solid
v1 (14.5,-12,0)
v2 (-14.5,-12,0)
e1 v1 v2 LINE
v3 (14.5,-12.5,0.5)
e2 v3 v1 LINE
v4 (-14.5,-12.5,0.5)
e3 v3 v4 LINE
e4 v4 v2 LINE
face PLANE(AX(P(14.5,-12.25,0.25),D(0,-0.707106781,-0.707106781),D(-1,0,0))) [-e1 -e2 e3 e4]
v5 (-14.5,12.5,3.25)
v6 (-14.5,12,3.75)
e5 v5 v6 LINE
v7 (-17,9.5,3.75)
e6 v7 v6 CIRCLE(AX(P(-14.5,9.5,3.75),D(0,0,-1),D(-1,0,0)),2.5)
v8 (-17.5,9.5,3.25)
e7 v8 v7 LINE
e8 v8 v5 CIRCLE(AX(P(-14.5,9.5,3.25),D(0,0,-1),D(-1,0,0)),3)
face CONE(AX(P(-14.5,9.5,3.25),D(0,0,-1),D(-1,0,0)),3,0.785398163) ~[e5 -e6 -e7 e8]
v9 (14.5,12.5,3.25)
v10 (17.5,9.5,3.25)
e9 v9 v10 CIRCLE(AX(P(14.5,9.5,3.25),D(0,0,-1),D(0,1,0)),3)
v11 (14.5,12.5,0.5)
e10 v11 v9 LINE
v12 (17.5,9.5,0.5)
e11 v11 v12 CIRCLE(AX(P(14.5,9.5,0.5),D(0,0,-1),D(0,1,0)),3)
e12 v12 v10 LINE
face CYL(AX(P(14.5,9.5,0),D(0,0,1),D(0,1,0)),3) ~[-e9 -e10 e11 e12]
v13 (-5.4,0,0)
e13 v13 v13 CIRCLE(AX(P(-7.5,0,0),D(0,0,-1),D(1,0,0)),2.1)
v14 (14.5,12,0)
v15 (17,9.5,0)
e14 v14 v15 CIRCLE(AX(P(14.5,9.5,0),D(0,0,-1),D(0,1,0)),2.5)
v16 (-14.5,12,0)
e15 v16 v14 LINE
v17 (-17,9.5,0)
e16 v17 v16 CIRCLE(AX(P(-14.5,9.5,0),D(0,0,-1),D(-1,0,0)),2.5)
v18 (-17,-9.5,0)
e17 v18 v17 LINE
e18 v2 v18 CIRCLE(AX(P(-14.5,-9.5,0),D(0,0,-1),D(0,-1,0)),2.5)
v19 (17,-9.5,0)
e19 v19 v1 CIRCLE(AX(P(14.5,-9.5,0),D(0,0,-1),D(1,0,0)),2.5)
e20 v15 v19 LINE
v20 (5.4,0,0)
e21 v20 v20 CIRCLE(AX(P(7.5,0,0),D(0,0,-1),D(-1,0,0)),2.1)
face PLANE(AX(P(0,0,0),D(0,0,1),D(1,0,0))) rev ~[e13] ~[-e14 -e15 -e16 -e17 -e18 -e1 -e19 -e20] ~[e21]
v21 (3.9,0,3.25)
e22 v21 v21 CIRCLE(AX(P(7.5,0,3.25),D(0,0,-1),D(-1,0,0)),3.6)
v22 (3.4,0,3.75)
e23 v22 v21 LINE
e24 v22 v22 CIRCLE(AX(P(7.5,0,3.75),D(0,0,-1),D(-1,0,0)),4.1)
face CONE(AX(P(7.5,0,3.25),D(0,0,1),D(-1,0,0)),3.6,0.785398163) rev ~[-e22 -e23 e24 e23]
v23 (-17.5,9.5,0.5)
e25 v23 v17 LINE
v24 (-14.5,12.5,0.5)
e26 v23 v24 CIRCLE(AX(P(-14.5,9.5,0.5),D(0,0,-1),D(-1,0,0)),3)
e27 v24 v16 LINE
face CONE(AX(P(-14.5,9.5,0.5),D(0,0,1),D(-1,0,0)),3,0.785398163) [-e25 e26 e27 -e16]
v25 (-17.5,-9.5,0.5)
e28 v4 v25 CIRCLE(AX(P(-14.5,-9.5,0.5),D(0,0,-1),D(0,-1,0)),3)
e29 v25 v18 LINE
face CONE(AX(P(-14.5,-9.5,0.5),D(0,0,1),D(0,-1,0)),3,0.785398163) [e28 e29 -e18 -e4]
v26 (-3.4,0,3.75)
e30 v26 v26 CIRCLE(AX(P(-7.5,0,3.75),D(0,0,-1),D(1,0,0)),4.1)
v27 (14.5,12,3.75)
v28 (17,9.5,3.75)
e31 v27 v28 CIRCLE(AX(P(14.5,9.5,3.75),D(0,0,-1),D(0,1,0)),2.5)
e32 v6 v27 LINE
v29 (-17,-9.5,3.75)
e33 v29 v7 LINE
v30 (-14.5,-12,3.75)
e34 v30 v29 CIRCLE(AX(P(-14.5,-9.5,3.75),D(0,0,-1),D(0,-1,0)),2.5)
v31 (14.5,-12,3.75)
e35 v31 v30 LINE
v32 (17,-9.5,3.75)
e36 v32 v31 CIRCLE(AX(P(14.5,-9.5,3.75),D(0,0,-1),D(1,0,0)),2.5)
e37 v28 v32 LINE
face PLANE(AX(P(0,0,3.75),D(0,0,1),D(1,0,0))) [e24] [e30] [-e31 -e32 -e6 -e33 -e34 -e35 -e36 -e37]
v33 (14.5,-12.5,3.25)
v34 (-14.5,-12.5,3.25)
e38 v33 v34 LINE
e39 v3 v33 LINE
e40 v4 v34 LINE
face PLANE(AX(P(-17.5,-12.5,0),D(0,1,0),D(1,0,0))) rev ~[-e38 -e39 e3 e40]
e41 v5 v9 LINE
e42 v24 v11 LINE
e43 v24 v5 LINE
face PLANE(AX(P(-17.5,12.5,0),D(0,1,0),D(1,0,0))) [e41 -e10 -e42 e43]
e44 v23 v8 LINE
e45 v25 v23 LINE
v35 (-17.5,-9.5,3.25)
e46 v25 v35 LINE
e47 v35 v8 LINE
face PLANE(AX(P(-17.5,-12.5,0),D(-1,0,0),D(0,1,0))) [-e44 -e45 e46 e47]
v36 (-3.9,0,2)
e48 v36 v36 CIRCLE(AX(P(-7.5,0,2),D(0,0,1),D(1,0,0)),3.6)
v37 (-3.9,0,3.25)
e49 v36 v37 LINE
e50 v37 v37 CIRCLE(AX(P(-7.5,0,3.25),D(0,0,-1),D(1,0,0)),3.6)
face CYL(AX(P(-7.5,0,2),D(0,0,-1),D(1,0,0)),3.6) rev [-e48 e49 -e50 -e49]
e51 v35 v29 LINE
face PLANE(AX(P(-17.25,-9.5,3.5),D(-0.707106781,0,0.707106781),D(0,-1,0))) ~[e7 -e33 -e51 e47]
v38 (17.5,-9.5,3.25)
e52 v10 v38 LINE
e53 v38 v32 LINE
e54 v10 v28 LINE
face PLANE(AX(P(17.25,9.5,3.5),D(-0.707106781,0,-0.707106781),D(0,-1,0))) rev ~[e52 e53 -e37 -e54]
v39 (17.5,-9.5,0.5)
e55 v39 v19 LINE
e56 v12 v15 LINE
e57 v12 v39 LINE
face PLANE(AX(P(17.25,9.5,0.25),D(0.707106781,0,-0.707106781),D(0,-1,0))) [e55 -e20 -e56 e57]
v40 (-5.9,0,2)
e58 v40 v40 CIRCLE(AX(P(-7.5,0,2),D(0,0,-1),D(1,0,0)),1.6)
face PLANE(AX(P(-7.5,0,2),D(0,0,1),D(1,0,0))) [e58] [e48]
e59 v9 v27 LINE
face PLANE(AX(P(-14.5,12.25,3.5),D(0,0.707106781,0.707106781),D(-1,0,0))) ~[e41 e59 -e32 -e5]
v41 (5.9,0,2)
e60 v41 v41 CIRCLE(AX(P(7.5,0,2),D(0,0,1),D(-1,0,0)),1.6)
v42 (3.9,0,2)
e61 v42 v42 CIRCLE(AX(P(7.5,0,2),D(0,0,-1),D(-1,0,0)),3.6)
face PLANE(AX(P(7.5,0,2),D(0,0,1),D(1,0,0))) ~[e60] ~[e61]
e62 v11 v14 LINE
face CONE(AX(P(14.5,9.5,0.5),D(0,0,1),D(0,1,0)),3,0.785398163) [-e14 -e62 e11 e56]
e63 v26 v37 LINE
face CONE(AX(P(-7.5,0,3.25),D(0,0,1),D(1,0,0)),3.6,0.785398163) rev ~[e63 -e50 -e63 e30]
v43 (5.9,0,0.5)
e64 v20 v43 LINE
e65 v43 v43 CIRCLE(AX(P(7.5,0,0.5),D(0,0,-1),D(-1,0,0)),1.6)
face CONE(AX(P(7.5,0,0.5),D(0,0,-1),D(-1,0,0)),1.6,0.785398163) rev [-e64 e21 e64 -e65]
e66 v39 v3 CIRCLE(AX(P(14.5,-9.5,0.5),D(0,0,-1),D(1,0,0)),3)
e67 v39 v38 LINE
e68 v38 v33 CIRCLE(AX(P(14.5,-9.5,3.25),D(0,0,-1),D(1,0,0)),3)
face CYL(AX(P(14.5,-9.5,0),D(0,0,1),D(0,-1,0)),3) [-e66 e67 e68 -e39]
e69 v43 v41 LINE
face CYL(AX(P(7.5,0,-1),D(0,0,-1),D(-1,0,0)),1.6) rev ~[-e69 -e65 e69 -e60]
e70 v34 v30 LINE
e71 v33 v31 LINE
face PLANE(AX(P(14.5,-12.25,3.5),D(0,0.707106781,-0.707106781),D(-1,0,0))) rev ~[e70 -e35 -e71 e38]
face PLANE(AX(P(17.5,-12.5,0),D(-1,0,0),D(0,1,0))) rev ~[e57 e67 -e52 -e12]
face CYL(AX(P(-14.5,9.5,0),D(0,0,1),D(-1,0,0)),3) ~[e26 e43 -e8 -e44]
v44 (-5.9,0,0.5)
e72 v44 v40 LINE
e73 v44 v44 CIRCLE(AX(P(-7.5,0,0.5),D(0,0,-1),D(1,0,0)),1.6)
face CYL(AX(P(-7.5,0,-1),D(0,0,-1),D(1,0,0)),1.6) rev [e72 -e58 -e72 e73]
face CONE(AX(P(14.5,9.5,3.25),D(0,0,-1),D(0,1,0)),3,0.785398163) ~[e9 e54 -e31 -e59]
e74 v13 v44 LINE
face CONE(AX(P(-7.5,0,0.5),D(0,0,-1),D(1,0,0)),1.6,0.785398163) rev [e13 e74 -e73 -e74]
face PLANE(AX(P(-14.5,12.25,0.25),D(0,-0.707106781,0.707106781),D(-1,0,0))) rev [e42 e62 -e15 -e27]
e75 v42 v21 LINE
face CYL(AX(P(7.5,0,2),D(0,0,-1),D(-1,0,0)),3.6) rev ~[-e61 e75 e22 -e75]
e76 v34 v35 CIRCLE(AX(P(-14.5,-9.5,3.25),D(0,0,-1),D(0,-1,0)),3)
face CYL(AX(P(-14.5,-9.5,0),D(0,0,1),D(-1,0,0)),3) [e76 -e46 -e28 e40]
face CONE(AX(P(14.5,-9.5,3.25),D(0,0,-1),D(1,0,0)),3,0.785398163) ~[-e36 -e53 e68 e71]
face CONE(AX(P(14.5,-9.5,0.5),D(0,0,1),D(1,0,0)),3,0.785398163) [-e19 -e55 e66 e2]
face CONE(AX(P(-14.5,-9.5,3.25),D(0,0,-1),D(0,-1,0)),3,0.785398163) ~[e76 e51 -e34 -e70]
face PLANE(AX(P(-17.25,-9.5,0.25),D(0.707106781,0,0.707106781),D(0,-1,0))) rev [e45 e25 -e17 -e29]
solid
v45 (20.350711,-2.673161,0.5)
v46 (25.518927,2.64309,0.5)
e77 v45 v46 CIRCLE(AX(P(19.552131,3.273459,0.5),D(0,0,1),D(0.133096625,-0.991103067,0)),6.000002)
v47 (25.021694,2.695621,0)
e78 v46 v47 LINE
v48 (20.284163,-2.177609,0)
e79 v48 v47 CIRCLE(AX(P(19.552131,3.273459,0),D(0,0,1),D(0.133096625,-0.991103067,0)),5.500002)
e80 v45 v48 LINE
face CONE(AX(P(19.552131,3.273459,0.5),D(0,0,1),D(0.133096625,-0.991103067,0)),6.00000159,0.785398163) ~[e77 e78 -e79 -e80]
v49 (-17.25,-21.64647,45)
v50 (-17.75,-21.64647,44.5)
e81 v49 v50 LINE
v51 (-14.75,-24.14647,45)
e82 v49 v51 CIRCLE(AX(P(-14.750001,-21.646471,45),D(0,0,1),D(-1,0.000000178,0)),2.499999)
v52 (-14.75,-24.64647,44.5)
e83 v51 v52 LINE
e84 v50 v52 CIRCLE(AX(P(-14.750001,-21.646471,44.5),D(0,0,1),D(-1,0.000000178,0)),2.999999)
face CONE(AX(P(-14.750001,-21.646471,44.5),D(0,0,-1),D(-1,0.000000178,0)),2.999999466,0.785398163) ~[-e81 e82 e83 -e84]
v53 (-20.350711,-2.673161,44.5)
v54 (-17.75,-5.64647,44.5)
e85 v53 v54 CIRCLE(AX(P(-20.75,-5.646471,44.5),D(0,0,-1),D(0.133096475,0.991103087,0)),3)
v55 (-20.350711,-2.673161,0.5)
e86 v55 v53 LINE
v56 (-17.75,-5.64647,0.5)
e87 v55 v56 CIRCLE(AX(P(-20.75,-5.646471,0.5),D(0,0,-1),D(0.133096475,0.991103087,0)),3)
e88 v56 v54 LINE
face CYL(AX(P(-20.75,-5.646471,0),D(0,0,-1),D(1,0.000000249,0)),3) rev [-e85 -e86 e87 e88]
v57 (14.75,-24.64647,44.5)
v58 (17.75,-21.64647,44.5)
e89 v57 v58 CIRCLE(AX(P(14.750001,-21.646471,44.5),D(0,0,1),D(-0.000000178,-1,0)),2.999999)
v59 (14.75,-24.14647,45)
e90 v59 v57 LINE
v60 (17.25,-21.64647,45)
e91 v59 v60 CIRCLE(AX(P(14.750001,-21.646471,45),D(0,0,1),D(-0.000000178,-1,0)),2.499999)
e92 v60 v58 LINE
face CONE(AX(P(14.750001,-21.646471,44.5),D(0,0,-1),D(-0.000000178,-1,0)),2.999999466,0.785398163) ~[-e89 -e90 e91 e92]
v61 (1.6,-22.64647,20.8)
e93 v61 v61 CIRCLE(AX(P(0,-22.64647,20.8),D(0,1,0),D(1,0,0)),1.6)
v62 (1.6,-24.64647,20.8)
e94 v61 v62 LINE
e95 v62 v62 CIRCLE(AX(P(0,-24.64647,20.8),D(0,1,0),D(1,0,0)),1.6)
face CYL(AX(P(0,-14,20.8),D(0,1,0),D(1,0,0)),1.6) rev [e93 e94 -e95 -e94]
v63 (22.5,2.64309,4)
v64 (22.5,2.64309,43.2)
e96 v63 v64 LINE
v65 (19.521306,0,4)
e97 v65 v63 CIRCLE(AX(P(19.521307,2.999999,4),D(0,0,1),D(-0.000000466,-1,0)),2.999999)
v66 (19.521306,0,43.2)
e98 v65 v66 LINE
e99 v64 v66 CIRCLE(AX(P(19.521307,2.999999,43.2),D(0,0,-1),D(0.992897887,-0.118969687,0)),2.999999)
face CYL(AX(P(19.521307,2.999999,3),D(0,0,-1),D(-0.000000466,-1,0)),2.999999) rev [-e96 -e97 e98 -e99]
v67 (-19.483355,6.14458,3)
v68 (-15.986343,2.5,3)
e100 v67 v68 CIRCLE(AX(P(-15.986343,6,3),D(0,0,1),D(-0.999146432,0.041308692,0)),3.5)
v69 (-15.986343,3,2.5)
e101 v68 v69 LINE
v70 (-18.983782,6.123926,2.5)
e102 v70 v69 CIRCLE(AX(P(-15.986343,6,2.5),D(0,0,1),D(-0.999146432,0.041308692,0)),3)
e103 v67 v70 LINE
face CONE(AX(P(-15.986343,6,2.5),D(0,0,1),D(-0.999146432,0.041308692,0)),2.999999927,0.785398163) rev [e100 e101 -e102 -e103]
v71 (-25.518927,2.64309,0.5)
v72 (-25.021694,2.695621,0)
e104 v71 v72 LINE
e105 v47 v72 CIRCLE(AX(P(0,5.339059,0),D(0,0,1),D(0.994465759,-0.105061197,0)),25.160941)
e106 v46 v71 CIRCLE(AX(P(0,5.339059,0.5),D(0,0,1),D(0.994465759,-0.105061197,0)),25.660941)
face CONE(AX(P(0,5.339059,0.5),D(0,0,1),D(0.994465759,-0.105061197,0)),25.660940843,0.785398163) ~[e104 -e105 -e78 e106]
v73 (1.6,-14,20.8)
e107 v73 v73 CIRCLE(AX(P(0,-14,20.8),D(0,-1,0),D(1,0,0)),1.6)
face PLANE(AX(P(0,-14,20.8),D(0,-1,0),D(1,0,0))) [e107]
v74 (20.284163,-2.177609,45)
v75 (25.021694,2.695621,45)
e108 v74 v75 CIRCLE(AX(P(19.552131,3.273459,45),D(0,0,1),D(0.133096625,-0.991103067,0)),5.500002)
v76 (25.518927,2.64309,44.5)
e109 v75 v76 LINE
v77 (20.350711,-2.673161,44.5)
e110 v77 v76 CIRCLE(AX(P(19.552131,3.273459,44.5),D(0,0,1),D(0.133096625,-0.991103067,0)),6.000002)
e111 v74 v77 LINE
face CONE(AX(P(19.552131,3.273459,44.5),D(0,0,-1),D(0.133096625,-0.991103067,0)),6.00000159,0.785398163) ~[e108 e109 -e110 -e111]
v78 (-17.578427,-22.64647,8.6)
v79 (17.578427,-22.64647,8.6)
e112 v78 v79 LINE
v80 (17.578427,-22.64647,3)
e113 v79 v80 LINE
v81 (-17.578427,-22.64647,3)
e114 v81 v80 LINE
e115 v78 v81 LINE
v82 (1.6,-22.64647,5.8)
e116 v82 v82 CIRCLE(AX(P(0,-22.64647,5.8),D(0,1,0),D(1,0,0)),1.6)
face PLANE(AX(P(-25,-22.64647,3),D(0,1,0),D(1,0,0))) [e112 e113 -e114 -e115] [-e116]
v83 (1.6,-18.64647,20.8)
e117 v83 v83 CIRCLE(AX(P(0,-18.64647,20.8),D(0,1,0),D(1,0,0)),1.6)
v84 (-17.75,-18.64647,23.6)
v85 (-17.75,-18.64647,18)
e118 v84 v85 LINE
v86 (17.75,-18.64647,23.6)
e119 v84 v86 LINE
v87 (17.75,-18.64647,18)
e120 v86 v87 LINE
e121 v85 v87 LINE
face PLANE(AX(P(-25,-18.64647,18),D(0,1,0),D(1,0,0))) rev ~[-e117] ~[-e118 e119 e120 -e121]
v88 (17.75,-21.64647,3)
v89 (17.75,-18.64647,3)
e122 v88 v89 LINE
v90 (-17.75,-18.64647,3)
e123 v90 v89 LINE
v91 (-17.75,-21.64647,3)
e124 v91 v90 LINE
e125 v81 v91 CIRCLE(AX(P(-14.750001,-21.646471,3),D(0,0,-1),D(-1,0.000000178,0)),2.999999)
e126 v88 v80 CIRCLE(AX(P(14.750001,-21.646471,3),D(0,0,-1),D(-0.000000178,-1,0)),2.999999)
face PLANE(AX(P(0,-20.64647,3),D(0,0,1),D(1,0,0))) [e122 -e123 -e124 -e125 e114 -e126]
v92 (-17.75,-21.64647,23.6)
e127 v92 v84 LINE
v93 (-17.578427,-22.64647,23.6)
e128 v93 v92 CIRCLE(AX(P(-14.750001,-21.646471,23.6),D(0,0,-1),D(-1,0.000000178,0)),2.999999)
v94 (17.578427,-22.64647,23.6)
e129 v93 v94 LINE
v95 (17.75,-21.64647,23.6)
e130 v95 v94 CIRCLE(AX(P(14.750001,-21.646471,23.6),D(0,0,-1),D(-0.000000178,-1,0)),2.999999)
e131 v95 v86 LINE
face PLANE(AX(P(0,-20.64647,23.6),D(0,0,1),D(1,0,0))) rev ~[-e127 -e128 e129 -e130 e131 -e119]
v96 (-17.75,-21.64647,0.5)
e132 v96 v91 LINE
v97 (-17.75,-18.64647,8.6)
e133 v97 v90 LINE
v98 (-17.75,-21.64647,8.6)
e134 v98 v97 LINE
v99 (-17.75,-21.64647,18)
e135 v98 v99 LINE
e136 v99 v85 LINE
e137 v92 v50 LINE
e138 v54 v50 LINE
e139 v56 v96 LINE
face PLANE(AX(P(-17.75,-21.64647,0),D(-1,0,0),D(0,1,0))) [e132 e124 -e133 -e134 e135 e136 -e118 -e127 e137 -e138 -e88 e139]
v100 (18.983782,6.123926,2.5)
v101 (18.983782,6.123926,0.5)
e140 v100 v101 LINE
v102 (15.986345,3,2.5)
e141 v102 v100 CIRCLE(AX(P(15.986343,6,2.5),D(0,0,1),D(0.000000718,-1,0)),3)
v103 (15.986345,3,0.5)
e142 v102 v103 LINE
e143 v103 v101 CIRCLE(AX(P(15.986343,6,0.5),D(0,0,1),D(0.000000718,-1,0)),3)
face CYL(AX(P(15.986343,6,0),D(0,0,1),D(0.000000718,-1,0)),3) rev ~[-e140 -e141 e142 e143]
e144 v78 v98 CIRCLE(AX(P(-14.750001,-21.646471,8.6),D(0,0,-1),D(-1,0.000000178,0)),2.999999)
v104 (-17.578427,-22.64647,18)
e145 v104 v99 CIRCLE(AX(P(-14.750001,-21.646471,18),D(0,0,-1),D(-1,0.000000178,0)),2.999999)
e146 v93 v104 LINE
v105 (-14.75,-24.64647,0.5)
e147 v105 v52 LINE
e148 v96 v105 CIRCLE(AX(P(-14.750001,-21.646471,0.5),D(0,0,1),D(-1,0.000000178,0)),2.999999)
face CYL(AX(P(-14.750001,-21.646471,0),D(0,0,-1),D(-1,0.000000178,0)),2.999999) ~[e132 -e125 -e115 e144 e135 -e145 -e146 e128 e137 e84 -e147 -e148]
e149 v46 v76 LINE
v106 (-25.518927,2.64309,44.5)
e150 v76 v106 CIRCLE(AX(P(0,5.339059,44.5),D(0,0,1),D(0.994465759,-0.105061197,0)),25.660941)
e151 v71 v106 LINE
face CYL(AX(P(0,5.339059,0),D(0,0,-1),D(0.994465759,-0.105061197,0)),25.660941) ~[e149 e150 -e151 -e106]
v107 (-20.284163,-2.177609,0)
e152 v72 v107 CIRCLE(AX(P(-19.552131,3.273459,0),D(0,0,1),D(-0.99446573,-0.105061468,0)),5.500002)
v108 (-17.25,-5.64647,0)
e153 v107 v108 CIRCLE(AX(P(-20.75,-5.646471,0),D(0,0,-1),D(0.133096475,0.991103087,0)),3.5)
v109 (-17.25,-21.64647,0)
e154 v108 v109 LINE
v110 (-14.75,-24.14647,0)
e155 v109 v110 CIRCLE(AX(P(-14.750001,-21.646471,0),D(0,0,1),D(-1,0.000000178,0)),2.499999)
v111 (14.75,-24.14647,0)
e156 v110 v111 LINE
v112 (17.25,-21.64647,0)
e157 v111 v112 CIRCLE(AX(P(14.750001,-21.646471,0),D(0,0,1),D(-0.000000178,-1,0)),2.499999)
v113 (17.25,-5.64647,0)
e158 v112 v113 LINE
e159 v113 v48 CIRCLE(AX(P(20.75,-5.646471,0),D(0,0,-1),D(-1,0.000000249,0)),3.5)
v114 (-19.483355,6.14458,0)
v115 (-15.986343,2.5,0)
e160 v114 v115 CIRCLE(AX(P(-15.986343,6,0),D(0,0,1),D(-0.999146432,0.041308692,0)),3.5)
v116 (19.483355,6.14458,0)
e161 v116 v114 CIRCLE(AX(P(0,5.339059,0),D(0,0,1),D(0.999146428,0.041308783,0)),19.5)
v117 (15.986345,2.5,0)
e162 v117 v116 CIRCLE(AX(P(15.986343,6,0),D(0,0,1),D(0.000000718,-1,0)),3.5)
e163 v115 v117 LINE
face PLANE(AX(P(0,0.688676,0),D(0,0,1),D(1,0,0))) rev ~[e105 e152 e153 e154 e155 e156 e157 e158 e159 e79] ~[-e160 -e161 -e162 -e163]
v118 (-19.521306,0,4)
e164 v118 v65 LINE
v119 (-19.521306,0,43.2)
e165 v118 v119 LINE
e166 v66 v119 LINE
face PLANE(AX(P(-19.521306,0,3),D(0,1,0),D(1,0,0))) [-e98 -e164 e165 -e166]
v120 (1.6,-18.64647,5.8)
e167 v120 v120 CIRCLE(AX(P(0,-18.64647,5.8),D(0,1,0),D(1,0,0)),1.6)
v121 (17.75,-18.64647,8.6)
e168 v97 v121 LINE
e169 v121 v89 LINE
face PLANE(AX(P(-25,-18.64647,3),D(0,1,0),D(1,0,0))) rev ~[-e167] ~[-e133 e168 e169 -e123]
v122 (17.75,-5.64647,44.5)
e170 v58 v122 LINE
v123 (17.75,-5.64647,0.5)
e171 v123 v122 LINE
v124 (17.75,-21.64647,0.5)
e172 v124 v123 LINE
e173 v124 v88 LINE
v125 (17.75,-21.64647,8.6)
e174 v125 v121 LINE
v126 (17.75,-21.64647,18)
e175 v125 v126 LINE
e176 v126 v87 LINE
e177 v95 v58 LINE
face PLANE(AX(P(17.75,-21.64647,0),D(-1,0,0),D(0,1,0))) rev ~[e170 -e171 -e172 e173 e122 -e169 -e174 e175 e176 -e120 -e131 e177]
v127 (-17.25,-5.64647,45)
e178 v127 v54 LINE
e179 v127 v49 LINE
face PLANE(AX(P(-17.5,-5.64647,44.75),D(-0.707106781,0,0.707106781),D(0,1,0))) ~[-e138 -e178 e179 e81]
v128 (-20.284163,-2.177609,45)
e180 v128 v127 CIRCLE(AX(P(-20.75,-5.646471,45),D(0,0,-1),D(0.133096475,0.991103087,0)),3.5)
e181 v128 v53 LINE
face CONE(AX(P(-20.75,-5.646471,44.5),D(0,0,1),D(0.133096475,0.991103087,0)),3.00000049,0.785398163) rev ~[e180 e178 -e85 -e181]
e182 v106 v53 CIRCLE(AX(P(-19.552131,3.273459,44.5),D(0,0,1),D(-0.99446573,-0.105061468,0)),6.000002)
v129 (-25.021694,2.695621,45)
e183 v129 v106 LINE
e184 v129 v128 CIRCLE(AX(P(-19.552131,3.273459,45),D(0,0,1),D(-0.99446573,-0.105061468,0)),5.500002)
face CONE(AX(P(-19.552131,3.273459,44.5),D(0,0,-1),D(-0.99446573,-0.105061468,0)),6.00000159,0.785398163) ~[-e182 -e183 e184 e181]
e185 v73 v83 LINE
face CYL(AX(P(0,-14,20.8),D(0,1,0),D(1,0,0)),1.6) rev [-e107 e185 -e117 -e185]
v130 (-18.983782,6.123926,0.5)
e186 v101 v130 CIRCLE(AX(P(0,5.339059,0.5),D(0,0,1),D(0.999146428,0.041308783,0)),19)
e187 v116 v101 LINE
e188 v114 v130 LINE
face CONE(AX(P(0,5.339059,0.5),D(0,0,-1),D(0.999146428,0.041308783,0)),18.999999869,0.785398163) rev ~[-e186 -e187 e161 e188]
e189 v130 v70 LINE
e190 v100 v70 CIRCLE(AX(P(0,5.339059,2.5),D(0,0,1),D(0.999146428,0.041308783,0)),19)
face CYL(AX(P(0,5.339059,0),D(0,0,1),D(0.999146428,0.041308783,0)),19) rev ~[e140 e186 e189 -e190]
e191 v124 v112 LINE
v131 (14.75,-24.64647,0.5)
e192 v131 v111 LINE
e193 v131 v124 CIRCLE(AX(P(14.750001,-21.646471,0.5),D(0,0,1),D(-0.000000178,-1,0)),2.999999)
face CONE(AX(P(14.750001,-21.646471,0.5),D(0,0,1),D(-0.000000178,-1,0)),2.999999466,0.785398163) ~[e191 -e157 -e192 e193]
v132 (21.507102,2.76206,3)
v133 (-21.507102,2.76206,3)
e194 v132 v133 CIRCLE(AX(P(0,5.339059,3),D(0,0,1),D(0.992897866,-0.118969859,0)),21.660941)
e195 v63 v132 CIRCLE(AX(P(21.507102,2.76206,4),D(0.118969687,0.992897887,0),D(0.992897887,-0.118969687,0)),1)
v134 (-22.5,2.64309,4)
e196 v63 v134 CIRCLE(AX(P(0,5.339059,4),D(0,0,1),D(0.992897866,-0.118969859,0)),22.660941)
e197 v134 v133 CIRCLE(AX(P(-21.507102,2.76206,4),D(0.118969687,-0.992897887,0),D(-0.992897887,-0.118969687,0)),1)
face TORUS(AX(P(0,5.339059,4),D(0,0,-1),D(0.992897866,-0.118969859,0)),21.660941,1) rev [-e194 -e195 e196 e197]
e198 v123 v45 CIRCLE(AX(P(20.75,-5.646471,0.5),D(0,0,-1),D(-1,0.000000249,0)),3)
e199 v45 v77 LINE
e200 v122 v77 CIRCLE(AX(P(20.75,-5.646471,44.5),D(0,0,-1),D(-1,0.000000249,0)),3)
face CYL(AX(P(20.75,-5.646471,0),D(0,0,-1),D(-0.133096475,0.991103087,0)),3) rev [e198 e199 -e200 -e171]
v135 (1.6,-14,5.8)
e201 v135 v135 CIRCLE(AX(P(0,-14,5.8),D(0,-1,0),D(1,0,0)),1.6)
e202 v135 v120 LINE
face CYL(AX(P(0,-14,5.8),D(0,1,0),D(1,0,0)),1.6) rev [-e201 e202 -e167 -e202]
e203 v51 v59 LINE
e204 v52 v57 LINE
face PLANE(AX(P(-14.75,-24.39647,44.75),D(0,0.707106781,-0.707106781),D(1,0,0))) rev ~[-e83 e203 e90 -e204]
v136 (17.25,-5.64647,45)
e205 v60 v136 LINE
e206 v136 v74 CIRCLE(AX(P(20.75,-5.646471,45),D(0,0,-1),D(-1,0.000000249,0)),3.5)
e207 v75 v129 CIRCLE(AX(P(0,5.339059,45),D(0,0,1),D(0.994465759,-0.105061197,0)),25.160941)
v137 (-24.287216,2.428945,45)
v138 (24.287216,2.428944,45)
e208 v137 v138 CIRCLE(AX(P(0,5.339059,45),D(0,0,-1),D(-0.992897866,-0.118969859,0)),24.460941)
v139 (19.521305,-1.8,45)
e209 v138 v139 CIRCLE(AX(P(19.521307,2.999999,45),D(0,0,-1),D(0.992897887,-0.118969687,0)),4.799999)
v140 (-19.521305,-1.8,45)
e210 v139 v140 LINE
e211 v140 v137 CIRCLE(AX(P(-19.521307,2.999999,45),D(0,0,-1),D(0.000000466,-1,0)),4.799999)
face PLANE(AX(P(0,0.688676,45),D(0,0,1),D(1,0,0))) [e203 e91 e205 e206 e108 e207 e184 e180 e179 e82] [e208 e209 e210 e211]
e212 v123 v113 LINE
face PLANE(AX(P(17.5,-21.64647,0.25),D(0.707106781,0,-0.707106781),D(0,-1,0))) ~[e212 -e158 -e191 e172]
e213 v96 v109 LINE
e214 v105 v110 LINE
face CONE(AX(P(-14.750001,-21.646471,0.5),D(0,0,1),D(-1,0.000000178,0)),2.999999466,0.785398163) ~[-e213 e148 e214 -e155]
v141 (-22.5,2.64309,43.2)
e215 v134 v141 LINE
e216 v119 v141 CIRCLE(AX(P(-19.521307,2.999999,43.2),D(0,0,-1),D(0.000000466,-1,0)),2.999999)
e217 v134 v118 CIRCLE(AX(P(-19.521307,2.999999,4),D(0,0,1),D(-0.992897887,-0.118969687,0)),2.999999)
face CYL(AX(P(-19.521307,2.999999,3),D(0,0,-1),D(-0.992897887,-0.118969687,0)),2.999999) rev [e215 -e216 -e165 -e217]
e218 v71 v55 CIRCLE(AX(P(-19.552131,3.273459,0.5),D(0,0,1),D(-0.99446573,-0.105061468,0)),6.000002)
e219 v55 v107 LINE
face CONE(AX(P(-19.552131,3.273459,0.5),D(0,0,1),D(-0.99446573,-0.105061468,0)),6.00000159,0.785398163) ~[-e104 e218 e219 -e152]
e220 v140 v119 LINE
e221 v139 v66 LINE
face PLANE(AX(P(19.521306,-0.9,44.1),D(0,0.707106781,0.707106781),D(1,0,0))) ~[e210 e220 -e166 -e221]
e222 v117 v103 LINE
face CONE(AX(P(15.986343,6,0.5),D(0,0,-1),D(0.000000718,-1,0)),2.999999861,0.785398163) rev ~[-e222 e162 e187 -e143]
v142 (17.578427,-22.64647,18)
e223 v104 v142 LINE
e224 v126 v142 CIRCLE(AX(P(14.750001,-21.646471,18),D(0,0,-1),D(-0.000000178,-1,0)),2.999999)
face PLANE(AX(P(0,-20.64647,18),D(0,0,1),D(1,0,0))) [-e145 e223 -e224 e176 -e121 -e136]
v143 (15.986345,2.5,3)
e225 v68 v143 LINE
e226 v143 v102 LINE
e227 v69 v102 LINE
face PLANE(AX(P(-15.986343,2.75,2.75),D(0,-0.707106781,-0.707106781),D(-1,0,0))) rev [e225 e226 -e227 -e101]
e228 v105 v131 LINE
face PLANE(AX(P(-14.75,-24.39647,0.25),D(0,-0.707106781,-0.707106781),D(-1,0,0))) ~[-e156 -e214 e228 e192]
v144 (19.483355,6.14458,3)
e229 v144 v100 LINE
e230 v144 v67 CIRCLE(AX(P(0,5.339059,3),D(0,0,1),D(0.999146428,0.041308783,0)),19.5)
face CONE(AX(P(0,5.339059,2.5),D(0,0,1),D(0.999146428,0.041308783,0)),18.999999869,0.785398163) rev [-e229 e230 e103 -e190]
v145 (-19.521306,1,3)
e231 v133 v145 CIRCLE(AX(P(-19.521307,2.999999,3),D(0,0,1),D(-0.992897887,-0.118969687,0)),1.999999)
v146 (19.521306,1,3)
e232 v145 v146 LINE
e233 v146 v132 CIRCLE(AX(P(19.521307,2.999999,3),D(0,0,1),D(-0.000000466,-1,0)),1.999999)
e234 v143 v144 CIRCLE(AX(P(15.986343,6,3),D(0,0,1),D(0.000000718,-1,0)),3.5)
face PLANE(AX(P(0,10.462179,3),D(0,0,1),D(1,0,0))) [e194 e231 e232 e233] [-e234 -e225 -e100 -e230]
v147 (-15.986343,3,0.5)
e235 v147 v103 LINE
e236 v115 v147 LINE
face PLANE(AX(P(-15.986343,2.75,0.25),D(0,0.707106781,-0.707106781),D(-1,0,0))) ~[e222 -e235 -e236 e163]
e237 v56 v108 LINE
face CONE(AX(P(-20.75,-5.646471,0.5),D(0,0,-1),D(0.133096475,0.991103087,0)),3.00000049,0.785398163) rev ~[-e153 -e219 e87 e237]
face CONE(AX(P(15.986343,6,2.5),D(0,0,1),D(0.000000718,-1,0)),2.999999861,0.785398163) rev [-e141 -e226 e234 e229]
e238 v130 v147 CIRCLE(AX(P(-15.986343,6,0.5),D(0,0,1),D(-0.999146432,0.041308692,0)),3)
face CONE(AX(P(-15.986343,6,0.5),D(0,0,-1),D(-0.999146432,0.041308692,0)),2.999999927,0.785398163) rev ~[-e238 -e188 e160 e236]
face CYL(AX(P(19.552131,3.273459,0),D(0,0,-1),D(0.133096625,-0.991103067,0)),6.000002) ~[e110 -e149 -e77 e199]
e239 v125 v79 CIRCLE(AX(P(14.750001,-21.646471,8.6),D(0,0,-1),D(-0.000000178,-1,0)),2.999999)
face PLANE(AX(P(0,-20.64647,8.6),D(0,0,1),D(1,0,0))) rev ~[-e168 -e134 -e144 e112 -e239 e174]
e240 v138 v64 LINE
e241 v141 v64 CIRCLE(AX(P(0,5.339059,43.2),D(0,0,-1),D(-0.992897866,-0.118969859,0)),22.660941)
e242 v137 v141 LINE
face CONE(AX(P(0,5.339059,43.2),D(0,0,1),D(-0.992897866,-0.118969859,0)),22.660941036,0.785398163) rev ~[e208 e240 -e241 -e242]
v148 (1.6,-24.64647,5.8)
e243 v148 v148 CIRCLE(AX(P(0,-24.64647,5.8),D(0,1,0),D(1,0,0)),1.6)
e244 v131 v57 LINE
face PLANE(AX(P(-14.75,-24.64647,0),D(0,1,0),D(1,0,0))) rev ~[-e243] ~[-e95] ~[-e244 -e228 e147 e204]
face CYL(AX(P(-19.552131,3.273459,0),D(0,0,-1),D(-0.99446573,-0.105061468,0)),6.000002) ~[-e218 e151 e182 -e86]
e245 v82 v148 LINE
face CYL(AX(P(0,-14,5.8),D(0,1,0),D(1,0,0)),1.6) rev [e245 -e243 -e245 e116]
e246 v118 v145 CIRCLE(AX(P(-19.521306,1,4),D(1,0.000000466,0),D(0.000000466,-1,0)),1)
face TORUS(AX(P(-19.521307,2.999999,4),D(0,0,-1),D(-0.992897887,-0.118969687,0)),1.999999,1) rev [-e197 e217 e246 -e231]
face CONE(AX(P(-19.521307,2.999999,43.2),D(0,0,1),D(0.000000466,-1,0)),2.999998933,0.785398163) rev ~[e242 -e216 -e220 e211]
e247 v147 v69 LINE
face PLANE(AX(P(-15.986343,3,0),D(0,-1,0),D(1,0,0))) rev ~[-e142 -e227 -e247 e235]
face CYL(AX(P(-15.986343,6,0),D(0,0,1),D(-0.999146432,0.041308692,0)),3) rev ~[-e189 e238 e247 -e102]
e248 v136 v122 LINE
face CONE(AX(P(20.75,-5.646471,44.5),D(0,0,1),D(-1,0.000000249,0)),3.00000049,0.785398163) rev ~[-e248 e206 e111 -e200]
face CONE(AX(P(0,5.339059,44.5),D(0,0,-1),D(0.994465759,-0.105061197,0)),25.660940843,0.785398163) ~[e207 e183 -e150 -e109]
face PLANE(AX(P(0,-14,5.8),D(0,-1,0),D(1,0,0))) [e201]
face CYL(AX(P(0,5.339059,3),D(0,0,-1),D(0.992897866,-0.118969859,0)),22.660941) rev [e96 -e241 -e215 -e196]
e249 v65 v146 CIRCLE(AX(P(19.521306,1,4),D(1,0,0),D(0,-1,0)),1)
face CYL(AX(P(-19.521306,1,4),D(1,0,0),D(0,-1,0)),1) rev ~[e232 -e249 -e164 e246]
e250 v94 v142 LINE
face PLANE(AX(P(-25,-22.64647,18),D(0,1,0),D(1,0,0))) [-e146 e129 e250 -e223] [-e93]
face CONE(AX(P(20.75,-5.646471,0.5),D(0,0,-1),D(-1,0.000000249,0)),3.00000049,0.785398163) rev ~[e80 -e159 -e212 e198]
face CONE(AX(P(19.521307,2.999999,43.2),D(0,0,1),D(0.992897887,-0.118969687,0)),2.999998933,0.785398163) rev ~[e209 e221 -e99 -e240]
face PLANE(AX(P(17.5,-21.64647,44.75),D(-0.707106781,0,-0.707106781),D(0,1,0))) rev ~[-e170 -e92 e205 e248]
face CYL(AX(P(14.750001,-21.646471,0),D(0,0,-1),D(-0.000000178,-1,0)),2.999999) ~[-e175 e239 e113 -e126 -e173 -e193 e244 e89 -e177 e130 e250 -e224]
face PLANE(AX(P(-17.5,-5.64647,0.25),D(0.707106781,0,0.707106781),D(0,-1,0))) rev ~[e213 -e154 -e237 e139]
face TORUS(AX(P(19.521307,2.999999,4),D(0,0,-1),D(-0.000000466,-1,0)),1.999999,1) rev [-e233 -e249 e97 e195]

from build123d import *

# Parameters (mm, degrees)
CYLINDER001_R     = 3.6
CYLINDER001_DEPTH = 10
CYLINDER_R        = 1.6
CYLINDER_DEPTH    = 10
BOX_W             = 35
BOX_H             = 25
BOX_DEPTH         = 3.75
FILLET_R          = 3
CHAMFER_SIZE      = 0.5
CYLINDER002_R     = 1.6
CYLINDER002_DEPTH = 40
SKETCH002_W       = 50
SKETCH002_H       = 4
EXTRUDE002_DEPTH  = 5.6
EXTRUDE003_DEPTH  = 10
EXTRUDE_DEPTH     = 45
EXTRUDE001_DEPTH  = 45
CHAMFER001_SIZE   = 1.8
CHAMFER002_SIZE   = 0.5
FILLET001_R       = 1


with BuildPart() as cylinder001:
    # Cylinder001 → Cylinder001 (new body)
    with BuildSketch(Plane(origin=(-7.5, 0, 2), x_dir=(1, 0, 0), z_dir=(0, 0, 1))):
        Circle(CYLINDER001_R)
    extrude(amount=CYLINDER001_DEPTH)


with BuildPart() as fusion:
    # Cylinder → Cylinder (new body)
    with BuildSketch(Plane(origin=(-7.5, 0, -1), x_dir=(1, 0, 0), z_dir=(0, 0, 1))):
        Circle(CYLINDER_R)
    extrude(amount=CYLINDER_DEPTH)

    # Fusion: union Cylinder001
    add(cylinder001.part)


with BuildPart() as part_mirroring:
    # Part__Mirroring: instance of Fusion
    add(fusion.part.mirror(Plane(origin=(0, 0, 0), x_dir=(0, -1, 0), z_dir=(1, 0, 0))))


with BuildPart() as fusion001:
    # Fusion001 base: copy of Fusion
    add(fusion.part)

    # Fusion001: union Part__Mirroring
    add(part_mirroring.part)


with BuildPart() as mountplate:
    # Box → Box (new body)
    with BuildSketch(Plane(origin=(-17.5, -12.5, 0), x_dir=(1, 0, 0), z_dir=(0, 0, 1))):
        with Locations((17.5, 12.5)):
            Rectangle(BOX_W, BOX_H)
    extrude(amount=BOX_DEPTH)

    # Cut001: cut Fusion001
    add(fusion001.part, mode=Mode.SUBTRACT)

    # Fillet
    fillet_edges = [mountplate.edges().sort_by_distance(p)[0] for p in [
        (-17.5, -12.5, 1.875),
        (-17.5, 12.5, 1.875),
        (17.5, -12.5, 1.875),
        (17.5, 12.5, 1.875),
    ]]
    fillet(fillet_edges, radius=FILLET_R)

    # Chamfer
    chamfer_edges = [mountplate.edges().sort_by_distance(p)[0] for p in [
        (-17.5, 0, 3.75),
        (-17.5, 0, 0),
        (-16.62132, -11.62132, 3.75),
        (-16.62132, 11.62132, 3.75),
        (0, -12.5, 3.75),
        (0, 12.5, 3.75),
        (16.62132, -11.62132, 3.75),
        (16.62132, 11.62132, 3.75),
        (17.5, 0, 3.75),
        (-11.1, 0, 3.75),
        (11.1, 0, 3.75),
        (-16.62132, -11.62132, 0),
        (-16.62132, 11.62132, 0),
        (0, -12.5, 0),
        (0, 12.5, 0),
        (16.62132, -11.62132, 0),
        (16.62132, 11.62132, 0),
        (17.5, 0, 0),
        (-9.1, 0, 0),
        (9.1, 0, 0),
    ]]
    chamfer(chamfer_edges, length=CHAMFER_SIZE)


with BuildPart() as cylinder002:
    # Cylinder002 → Cylinder002 (new body)
    with BuildSketch(Plane(origin=(0, -14, 5.8), x_dir=(1, 0, 0), z_dir=(0, -1, 0))):
        Circle(CYLINDER002_R)
    extrude(amount=CYLINDER002_DEPTH)


with BuildPart() as body002:
    # Body002 base: copy of Cylinder002
    add(cylinder002.part)


with BuildPart() as body002_1:
    # Body002 placement: moved
    add(body002.part.moved(Location((0, 0, 15))))


with BuildPart() as m3_screw_holes:
    # Fusion003 base: copy of Cylinder002
    add(cylinder002.part)

    # Fusion003: union Body002
    add(body002_1.part)


with BuildPart() as nutspace:
    # Sketch002 → Extrude002 (new body)
    with BuildSketch(Plane.XY):
        with Locations((0, -20.64647)):
            Rectangle(SKETCH002_W, SKETCH002_H)
    extrude(amount=EXTRUDE002_DEPTH)


with BuildPart() as nutspace_1:
    # Extrude002 placement: moved
    add(nutspace.part.moved(Location((0, 0, 3))))


with BuildPart() as nutspace2:
    # Body001 base: copy of nutspace
    add(nutspace_1.part)


with BuildPart() as nutspace2_1:
    # Clone placement: moved
    add(nutspace2.part.moved(Location((0, 0, -3))))


with BuildPart() as nutspace2_2:
    # Body001 placement: moved
    add(nutspace2_1.part.moved(Location((0, 0, 18))))


with BuildPart() as extrude003:
    # Sketch003 → Extrude003 (new body, symmetric)
    with BuildSketch(Plane.XY):
        with BuildLine():
            ThreePointArc((18.983782, 6.123926), (0, 24.339059), (-18.983782, 6.123926))
            ThreePointArc((-18.983782, 6.123926), (-18.151034, 3.922956), (-15.986343, 3))
            Line((-15.986343, 3), (15.986345, 3))
            ThreePointArc((15.986345, 3), (18.151035, 3.922957), (18.983782, 6.123926))
        make_face()
    extrude(amount=EXTRUDE003_DEPTH, both=True)


with BuildPart() as m3_nut_inserts:
    # Fusion002 base: copy of nutspace
    add(nutspace_1.part)

    # Fusion002: union nutspace2, Extrude003
    add(nutspace2_2.part)
    add(extrude003.part)


with BuildPart() as extrude_body:
    # Sketch → Extrude (new body)
    with BuildSketch(Plane.XY):
        with BuildLine():
            ThreePointArc((22.5, 2.64309), (0, 28), (-22.5, 2.64309))
            ThreePointArc((-22.5, 2.64309), (-21.512446, 0.756038), (-19.521306, 0))
            Line((-19.521306, 0), (19.521306, 0))
            ThreePointArc((19.521306, 0), (21.512446, 0.756038), (22.5, 2.64309))
        make_face()
    extrude(amount=EXTRUDE_DEPTH)


with BuildPart() as extrude_body_1:
    # Extrude placement: moved
    add(extrude_body.part.moved(Location((0, 0, 3))))


with BuildPart() as remoteholder:
    # Sketch001 → Extrude001 (new body)
    with BuildSketch(Plane.XY):
        with BuildLine():
            ThreePointArc((-17.75, -21.64647), (-16.87132, -23.767791), (-14.75, -24.64647))
            Line((-14.75, -24.64647), (14.75, -24.64647))
            ThreePointArc((14.75, -24.64647), (16.87132, -23.767791), (17.75, -21.64647))
            Line((17.75, -21.64647), (17.75, -5.64647))
            ThreePointArc((20.350711, -2.673161), (18.491918, -3.671359), (17.75, -5.64647))
            ThreePointArc((20.350711, -2.673161), (23.854248, -0.908862), (25.518927, 2.64309))
            ThreePointArc((25.518927, 2.64309), (0, 31), (-25.518927, 2.64309))
            ThreePointArc((-25.518927, 2.64309), (-23.854248, -0.908862), (-20.350711, -2.673161))
            ThreePointArc((-17.75, -5.64647), (-18.491918, -3.671359), (-20.350711, -2.673161))
            Line((-17.75, -21.64647), (-17.75, -5.64647))
        make_face()
    extrude(amount=EXTRUDE001_DEPTH)

    # Cut: cut Extrude body
    add(extrude_body_1.part, mode=Mode.SUBTRACT)

    # Cut002: cut M3_nut_inserts
    add(m3_nut_inserts.part, mode=Mode.SUBTRACT)

    # Cut003: cut M3_screw_holes
    add(m3_screw_holes.part, mode=Mode.SUBTRACT)

    # Chamfer001
    chamfer001_edges = [remoteholder.edges().sort_by_distance(p)[0] for p in [
        (-21.512446, 0.756038, 45),
        (0, 0, 45),
        (21.512446, 0.756038, 45),
        (0, 28, 45),
    ]]
    chamfer(chamfer001_edges, length=CHAMFER001_SIZE)

    # Chamfer002
    chamfer002_edges = [remoteholder.edges().sort_by_distance(p)[0] for p in [
        (-16.87132, -23.767791, 45),
        (-17.75, -13.64647, 45),
        (0, -24.64647, 45),
        (-18.491918, -3.671359, 45),
        (16.87132, -23.767791, 45),
        (-23.854248, -0.908862, 45),
        (17.75, -13.64647, 45),
        (0, 31, 45),
        (18.491918, -3.671359, 45),
        (23.854248, -0.908862, 45),
        (-16.87132, -23.767791, 0),
        (-17.75, -13.64647, 0),
        (0, -24.64647, 0),
        (-18.491918, -3.671359, 0),
        (16.87132, -23.767791, 0),
        (-23.854248, -0.908862, 0),
        (17.75, -13.64647, 0),
        (0, 31, 0),
        (18.491918, -3.671359, 0),
        (23.854248, -0.908862, 0),
        (-18.151034, 3.922956, 0),
        (1e-06, 3, 0),
        (18.151035, 3.922957, 0),
        (0, 24.339059, 0),
        (-18.151034, 3.922956, 3),
        (1e-06, 3, 3),
        (18.151035, 3.922957, 3),
        (0, 24.339059, 3),
    ]]
    chamfer(chamfer002_edges, length=CHAMFER002_SIZE)

    # Fillet001
    fillet001_edges = [remoteholder.edges().sort_by_distance(p)[0] for p in [
        (-21.512446, 0.756038, 3),
        (0, 0, 3),
        (0, 28, 3),
        (21.512446, 0.756038, 3),
    ]]
    fillet(fillet001_edges, radius=FILLET001_R)


solid = Compound([mountplate.part, remoteholder.part])
